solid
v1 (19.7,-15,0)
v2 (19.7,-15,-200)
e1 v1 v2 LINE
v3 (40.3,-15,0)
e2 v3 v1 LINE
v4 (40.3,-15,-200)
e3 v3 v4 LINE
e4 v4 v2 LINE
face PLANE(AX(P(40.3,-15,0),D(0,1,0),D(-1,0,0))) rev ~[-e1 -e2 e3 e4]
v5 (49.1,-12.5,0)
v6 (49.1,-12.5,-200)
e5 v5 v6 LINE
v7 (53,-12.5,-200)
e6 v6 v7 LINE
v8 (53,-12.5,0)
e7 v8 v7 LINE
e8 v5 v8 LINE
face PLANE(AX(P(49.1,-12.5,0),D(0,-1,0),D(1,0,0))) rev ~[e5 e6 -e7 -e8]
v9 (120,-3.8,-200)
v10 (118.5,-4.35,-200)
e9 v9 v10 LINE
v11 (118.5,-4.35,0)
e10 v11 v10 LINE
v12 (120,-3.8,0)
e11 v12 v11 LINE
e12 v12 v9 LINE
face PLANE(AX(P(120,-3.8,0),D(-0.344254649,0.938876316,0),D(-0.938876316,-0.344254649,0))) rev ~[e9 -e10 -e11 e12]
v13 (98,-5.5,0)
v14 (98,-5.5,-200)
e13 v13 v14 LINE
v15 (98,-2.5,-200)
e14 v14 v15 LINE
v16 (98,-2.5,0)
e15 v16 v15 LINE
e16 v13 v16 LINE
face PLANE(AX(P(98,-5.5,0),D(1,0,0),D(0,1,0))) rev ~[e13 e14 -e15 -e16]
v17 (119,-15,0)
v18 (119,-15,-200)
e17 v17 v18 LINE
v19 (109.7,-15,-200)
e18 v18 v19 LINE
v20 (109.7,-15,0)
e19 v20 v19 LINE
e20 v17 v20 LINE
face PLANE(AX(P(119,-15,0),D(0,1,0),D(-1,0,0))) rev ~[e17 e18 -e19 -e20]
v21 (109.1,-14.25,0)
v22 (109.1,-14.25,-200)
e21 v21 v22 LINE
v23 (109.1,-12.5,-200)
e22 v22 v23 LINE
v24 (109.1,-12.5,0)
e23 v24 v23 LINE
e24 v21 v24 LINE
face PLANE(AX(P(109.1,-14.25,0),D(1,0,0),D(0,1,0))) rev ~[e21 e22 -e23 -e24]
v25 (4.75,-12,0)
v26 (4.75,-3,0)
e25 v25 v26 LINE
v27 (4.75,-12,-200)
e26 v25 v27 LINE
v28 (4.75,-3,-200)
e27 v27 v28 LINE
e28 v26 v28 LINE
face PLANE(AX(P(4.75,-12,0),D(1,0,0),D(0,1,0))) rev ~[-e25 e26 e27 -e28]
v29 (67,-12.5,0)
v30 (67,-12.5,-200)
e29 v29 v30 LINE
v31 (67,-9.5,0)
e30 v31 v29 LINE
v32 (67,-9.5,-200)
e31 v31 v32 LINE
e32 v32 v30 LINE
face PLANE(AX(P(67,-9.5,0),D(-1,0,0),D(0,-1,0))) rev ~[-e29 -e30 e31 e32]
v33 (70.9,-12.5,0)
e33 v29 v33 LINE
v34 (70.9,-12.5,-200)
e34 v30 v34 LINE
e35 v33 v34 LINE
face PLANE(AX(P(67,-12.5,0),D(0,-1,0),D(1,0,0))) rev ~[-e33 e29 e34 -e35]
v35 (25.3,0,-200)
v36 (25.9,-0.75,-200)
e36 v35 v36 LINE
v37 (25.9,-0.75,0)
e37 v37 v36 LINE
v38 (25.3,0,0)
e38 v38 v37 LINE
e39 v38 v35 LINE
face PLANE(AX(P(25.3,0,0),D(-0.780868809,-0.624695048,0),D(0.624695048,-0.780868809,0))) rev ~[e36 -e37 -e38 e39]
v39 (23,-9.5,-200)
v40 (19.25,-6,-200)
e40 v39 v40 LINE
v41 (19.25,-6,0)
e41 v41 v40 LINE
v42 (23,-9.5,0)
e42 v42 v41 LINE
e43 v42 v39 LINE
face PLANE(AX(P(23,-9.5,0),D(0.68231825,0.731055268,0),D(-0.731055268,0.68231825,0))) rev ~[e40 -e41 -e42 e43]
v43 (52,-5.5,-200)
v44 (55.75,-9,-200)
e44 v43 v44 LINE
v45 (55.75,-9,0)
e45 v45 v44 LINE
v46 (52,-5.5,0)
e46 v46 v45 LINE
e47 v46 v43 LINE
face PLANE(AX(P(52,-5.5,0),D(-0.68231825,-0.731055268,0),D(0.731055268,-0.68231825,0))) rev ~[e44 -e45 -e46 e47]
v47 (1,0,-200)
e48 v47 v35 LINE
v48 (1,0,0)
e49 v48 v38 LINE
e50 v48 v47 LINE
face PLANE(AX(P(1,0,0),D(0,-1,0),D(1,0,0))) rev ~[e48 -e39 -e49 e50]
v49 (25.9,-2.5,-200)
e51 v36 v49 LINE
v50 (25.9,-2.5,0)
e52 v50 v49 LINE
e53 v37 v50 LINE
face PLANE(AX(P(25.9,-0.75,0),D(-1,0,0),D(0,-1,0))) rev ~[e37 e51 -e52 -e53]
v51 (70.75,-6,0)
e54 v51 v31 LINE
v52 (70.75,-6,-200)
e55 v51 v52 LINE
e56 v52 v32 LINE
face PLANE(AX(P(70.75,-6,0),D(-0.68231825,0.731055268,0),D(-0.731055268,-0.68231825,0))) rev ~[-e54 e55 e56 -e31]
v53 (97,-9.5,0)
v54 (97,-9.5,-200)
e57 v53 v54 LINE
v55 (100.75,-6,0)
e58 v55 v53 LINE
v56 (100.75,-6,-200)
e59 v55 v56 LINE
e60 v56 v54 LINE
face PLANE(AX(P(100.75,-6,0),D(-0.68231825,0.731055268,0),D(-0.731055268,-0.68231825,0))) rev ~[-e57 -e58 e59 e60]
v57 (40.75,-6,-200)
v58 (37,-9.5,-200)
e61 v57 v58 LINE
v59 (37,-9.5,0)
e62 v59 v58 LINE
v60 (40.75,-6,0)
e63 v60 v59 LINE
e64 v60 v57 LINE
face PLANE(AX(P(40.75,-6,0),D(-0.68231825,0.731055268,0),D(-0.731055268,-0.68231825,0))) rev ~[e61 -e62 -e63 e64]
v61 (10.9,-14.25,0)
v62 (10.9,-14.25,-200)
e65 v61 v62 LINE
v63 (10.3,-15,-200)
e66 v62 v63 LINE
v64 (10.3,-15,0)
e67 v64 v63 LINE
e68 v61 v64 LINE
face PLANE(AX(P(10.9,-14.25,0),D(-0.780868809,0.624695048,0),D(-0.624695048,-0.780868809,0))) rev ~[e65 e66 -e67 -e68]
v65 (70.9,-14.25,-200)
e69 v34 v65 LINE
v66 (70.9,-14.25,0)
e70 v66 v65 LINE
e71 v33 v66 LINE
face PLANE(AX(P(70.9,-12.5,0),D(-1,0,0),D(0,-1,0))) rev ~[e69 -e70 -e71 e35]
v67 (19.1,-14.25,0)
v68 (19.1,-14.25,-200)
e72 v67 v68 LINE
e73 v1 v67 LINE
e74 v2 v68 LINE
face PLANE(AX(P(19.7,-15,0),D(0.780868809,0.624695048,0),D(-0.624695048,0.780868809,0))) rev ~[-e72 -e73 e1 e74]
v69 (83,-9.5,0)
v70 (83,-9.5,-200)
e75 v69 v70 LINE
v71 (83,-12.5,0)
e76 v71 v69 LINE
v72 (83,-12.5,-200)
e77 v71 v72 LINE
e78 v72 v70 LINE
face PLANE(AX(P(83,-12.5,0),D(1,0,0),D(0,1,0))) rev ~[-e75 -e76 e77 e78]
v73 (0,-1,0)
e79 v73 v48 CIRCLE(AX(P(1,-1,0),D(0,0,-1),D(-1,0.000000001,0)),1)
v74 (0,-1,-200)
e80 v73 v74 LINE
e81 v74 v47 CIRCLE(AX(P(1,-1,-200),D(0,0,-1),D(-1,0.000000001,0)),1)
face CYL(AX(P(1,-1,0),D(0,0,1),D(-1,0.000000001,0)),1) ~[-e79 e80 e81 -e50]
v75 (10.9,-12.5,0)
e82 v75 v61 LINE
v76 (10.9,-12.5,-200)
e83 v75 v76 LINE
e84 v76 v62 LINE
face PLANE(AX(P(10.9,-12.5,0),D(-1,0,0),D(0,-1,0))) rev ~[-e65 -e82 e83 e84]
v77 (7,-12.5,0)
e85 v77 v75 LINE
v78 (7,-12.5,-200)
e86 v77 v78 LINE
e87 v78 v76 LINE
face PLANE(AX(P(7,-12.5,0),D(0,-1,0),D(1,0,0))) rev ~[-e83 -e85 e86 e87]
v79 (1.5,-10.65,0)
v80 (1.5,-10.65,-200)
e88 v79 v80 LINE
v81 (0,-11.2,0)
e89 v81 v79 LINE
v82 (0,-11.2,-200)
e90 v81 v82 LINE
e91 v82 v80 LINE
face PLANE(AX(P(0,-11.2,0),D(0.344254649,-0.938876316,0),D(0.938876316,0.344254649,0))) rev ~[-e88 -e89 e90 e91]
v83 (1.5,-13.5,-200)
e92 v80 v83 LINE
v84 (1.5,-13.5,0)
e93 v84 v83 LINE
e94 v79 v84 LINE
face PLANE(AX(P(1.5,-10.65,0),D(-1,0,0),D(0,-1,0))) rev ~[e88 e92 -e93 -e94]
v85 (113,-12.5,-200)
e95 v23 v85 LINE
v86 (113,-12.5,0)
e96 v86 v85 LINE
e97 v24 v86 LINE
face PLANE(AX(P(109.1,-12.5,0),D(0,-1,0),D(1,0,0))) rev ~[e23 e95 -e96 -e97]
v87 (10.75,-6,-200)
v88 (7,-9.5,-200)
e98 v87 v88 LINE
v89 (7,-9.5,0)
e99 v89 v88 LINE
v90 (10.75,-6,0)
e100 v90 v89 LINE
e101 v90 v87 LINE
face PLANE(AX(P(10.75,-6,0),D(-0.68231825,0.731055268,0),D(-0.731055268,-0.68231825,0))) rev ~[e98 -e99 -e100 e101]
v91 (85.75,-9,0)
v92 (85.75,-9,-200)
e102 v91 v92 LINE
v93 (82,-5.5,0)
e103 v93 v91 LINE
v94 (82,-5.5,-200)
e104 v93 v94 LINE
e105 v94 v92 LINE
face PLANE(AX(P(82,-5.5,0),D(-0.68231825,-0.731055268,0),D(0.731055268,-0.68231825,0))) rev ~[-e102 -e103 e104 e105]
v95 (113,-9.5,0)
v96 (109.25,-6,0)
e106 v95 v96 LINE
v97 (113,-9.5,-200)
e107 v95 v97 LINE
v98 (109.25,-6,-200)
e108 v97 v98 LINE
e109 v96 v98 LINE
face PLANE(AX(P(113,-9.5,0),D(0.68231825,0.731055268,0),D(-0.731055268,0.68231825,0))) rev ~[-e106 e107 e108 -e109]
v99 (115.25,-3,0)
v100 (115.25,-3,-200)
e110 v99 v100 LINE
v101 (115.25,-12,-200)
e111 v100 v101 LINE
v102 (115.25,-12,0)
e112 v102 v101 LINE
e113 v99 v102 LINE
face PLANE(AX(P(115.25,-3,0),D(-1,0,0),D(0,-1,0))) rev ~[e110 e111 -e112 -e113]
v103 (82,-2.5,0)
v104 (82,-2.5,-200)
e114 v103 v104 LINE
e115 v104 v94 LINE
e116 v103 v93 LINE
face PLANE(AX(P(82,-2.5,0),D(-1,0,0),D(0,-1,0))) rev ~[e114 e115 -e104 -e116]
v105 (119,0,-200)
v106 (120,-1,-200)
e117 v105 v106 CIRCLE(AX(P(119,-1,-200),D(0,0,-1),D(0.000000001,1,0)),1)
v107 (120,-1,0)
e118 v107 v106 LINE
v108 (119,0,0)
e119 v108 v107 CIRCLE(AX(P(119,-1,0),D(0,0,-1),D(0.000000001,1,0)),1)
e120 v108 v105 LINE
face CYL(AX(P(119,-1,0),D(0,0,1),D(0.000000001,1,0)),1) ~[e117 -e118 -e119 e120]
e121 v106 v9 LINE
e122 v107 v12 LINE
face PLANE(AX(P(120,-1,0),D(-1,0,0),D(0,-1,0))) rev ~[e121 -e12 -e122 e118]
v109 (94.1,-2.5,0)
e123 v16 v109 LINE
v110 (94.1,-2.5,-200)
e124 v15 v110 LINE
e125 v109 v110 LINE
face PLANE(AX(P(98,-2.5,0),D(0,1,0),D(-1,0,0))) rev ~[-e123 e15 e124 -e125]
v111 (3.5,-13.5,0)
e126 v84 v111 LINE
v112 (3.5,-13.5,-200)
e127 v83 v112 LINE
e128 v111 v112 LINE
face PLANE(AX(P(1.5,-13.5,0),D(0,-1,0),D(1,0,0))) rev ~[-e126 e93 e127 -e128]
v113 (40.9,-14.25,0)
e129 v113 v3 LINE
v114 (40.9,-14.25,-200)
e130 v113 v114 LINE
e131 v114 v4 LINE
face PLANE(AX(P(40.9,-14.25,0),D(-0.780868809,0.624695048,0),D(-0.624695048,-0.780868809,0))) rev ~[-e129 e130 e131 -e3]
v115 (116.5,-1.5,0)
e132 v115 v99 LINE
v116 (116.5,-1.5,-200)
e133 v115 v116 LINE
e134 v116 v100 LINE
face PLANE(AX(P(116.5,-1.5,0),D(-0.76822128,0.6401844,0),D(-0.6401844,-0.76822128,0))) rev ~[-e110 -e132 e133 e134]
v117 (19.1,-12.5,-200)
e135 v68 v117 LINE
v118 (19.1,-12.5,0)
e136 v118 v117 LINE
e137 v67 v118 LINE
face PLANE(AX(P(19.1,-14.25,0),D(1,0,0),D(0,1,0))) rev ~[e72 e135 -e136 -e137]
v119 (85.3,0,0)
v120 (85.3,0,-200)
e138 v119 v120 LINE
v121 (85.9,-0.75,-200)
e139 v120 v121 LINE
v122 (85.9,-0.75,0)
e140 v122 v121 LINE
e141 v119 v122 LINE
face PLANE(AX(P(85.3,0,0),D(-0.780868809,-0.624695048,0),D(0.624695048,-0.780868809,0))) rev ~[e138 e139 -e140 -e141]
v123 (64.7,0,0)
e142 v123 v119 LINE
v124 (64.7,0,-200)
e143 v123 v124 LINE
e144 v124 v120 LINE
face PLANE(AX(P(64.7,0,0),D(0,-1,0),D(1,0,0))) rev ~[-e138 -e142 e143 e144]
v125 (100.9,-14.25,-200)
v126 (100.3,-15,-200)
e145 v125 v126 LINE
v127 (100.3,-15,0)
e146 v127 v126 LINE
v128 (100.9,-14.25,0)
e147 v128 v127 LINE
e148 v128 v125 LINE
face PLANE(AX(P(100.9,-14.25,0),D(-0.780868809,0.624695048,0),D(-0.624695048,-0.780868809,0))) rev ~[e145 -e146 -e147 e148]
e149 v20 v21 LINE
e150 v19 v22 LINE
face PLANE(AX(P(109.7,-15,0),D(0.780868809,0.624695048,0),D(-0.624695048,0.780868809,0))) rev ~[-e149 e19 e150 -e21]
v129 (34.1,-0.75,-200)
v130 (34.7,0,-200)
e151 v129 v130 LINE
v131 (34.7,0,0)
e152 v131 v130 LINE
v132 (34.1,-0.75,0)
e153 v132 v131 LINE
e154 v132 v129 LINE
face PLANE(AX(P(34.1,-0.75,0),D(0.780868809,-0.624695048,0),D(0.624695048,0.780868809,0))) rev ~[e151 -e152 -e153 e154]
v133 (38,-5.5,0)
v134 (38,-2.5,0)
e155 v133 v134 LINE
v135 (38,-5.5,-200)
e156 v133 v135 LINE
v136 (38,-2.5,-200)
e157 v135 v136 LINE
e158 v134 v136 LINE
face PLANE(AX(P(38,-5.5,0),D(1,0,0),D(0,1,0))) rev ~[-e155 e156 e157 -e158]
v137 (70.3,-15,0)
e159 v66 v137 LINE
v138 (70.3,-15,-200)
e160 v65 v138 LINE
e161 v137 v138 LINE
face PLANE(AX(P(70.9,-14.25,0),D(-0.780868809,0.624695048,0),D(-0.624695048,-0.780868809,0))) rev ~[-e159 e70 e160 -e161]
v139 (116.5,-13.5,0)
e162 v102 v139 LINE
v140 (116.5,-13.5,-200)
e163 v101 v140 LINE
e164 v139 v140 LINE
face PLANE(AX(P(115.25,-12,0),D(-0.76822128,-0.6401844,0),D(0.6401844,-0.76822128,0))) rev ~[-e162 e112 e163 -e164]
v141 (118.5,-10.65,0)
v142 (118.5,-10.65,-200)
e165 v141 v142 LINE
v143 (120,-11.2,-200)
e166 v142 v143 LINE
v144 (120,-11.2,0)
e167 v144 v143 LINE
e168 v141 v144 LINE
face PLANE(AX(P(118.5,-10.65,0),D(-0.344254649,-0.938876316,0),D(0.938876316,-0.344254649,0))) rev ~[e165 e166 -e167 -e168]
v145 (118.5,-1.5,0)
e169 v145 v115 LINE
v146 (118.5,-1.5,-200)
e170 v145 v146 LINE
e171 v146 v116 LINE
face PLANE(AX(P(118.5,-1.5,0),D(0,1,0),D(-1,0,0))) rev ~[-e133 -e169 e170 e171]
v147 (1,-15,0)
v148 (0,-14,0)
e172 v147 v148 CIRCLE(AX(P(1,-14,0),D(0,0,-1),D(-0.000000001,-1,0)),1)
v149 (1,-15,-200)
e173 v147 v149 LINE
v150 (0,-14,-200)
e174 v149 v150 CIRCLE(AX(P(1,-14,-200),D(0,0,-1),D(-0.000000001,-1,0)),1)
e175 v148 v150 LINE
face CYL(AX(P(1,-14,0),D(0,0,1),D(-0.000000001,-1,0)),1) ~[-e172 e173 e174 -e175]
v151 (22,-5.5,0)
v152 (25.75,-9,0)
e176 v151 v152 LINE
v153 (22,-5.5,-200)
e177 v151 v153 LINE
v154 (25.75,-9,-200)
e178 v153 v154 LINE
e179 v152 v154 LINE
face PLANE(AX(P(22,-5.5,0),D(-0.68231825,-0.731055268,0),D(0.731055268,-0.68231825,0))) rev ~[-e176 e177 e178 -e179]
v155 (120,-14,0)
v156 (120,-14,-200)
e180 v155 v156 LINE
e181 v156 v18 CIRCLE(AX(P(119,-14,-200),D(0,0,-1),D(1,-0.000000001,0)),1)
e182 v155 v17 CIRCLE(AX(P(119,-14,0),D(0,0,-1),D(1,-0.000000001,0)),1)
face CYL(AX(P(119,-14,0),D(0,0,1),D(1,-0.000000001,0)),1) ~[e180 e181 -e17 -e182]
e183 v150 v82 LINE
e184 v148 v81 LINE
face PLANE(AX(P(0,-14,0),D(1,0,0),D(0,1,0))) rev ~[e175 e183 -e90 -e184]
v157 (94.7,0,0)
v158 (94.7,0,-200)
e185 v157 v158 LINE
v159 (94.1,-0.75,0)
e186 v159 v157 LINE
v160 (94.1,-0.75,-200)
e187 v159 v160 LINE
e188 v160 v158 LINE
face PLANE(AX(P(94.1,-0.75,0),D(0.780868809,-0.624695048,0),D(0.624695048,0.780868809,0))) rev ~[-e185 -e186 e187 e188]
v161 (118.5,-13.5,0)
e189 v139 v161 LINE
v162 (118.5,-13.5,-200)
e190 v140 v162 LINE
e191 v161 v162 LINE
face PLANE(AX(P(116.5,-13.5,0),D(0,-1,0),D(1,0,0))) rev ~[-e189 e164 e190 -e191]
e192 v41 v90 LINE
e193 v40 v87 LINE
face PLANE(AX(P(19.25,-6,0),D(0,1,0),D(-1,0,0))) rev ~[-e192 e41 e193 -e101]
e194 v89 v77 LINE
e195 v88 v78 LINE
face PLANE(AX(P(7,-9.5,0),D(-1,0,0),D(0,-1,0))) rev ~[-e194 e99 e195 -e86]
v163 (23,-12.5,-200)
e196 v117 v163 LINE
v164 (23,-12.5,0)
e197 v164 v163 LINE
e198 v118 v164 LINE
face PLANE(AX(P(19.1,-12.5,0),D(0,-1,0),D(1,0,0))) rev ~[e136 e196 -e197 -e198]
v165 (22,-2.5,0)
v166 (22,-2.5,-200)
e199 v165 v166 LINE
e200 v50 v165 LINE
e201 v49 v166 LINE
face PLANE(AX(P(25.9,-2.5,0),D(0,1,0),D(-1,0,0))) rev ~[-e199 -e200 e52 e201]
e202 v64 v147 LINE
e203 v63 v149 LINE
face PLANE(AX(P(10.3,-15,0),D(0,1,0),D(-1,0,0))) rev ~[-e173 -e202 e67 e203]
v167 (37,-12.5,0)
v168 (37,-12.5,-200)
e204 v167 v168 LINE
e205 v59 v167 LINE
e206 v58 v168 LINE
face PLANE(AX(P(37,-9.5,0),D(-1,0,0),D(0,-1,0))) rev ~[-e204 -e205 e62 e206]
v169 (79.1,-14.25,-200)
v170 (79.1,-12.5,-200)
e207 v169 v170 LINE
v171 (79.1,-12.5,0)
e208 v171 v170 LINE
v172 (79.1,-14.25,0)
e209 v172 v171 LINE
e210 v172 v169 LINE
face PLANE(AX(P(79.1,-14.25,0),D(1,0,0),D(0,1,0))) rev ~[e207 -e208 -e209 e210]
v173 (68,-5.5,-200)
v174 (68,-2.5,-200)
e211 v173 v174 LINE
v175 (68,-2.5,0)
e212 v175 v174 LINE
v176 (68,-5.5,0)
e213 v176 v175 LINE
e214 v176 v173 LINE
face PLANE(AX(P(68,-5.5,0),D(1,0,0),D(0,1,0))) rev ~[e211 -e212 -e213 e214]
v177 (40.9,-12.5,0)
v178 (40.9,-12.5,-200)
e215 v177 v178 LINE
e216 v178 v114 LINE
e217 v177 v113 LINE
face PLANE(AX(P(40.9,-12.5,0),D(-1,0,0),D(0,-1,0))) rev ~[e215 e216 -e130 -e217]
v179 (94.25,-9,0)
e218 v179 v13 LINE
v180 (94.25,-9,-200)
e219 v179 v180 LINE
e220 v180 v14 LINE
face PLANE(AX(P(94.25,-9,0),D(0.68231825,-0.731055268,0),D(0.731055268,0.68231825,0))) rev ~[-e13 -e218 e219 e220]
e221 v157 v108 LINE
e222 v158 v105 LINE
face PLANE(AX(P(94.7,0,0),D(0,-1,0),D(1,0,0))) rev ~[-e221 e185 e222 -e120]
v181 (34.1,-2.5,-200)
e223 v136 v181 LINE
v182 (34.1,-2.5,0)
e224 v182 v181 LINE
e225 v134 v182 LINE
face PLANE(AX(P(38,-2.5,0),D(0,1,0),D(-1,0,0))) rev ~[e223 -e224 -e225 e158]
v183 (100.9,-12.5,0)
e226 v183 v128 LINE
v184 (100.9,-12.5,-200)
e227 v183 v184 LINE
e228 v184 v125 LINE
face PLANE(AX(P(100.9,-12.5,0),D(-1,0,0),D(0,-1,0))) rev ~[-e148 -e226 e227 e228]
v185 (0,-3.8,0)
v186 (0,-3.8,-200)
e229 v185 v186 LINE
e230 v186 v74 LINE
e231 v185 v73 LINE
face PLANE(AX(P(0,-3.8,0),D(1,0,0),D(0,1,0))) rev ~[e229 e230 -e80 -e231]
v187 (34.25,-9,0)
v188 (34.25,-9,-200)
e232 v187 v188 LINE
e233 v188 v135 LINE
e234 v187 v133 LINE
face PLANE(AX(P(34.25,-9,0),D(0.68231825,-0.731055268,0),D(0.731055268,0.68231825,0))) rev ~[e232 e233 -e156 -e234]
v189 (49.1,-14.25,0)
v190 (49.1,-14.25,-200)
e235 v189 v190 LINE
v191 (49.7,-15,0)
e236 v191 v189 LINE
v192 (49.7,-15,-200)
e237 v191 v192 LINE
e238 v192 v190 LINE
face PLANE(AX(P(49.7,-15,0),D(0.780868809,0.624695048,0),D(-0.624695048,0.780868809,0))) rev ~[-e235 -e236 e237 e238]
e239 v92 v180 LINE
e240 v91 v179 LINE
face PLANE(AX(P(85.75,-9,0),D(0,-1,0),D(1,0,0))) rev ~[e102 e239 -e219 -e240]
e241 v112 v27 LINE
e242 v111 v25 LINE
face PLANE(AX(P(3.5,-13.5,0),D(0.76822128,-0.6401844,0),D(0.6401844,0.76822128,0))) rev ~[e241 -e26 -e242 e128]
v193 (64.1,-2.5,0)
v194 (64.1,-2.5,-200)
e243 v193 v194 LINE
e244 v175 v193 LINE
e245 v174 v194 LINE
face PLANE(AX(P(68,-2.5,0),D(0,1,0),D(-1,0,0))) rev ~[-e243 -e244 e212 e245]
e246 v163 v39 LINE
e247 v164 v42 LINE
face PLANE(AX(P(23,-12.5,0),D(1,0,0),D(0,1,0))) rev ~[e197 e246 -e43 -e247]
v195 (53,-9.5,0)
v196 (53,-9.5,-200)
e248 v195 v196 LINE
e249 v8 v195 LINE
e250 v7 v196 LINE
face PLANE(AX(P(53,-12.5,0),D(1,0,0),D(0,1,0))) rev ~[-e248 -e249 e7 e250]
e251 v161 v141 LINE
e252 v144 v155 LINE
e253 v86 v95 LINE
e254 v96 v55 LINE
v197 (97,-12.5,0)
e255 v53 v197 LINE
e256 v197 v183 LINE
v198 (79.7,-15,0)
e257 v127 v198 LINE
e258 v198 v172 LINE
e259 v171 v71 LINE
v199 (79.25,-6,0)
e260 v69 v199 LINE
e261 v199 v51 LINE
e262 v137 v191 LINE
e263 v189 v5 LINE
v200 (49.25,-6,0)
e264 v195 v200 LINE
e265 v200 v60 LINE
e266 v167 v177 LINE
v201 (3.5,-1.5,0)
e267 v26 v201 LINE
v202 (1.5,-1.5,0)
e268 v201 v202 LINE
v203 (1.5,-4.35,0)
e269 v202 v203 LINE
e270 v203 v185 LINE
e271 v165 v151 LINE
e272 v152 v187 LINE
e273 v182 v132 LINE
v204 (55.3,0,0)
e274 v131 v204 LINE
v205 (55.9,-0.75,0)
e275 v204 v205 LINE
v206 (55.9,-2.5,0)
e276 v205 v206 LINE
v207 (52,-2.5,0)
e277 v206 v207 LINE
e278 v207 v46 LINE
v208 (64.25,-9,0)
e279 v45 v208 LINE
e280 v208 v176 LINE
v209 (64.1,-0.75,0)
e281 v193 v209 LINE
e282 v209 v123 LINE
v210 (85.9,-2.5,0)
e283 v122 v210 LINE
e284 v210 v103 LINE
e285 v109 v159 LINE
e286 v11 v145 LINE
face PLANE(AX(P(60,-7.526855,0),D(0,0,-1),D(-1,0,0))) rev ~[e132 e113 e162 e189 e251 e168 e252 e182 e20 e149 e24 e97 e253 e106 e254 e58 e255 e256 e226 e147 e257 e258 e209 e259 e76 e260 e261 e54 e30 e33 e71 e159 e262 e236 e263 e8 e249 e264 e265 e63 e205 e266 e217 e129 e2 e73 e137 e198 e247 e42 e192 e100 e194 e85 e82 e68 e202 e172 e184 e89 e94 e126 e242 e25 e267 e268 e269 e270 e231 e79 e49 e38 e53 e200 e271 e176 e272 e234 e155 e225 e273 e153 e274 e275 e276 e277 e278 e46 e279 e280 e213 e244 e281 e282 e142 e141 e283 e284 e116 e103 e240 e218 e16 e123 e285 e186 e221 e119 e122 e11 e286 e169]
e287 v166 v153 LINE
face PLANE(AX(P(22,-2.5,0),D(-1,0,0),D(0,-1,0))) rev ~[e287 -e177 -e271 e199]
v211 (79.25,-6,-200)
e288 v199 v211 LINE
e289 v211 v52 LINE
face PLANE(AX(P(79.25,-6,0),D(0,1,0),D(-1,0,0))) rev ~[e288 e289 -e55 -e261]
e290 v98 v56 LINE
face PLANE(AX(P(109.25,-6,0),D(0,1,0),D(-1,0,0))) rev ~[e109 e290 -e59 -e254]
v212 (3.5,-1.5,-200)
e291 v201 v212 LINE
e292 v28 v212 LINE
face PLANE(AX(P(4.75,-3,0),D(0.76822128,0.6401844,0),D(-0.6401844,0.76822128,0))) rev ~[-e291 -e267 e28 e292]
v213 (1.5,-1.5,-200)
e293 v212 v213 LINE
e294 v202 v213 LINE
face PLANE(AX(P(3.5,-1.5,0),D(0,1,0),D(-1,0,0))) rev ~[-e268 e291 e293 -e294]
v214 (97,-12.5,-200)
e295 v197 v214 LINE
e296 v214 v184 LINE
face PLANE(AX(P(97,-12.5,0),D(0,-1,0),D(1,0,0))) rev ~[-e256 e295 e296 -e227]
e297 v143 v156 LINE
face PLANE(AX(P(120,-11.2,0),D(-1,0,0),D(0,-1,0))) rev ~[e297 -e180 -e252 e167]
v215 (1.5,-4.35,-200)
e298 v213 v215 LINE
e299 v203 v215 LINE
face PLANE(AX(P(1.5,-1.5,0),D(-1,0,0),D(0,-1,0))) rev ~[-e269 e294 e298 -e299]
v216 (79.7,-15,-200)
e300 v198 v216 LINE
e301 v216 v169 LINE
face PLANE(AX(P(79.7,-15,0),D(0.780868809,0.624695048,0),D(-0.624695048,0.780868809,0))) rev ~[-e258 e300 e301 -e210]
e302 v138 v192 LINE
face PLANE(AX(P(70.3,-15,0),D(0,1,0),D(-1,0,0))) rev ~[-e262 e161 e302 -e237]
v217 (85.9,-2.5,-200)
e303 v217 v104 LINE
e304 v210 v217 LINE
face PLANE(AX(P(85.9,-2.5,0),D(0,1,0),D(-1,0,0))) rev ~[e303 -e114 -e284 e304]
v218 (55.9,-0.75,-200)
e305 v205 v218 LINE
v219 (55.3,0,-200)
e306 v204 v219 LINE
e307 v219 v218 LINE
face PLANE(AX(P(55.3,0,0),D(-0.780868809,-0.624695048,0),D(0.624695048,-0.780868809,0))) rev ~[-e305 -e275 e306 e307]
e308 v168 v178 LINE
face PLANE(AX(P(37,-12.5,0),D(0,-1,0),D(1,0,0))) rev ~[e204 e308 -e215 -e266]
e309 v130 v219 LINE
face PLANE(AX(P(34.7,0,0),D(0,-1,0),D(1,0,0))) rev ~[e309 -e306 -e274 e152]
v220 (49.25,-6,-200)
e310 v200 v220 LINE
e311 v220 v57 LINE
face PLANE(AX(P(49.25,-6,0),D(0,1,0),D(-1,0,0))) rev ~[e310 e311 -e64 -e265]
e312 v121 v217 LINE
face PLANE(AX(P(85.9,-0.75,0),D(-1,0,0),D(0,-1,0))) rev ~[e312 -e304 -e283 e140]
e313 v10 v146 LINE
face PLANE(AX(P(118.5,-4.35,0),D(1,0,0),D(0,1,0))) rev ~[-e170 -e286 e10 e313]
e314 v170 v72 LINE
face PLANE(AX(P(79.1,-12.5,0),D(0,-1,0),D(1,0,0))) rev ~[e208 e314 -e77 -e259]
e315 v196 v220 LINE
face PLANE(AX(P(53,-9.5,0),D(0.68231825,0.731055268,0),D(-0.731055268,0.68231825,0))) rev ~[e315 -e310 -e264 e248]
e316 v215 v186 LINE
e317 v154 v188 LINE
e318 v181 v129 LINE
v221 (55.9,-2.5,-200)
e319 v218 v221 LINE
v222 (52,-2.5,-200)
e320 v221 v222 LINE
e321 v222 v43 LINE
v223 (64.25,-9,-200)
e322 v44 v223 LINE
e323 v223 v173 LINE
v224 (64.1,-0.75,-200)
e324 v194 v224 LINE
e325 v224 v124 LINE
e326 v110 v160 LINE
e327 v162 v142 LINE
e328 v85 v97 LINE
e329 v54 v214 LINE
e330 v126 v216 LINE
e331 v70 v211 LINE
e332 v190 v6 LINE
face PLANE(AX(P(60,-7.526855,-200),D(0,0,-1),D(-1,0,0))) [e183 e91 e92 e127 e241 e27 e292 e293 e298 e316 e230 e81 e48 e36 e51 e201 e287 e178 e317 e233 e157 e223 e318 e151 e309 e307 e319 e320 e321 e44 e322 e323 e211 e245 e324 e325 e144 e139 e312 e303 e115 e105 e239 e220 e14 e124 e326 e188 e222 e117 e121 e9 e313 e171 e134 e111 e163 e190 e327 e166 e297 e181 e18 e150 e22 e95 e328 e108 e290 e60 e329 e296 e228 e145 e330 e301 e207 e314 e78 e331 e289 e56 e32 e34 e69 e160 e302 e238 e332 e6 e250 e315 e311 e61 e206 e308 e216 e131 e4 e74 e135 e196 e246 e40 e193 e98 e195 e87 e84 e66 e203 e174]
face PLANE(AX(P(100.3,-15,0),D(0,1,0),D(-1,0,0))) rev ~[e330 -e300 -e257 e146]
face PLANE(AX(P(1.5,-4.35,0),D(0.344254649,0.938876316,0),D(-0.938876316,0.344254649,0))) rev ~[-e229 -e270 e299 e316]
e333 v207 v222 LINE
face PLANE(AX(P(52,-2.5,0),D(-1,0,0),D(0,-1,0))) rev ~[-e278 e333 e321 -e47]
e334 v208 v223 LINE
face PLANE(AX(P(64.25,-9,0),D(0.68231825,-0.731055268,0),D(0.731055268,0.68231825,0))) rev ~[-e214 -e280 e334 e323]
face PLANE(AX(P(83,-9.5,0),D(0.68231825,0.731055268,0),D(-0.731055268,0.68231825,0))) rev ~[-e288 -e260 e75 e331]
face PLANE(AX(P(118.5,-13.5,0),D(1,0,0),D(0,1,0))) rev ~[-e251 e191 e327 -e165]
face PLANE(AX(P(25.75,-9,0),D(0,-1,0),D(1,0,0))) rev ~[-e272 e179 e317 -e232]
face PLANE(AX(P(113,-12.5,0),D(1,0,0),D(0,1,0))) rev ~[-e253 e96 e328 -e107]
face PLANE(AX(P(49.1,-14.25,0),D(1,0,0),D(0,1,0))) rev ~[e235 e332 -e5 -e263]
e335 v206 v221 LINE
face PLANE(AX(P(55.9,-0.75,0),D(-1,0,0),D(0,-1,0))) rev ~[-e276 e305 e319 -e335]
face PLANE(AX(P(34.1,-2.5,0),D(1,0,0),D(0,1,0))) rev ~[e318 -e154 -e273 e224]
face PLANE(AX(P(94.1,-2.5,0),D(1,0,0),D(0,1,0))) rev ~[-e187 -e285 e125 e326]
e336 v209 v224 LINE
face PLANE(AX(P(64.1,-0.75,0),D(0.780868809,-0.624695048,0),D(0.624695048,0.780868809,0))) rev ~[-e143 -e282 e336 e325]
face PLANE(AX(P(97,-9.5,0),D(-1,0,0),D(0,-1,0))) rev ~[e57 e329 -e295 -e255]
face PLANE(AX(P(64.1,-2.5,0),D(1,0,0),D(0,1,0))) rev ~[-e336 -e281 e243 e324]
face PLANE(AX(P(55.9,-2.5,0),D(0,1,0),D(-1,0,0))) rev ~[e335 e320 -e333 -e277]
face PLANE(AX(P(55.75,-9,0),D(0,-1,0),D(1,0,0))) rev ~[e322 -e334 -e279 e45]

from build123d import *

# Parameters (mm, degrees)
BOSS_EXTRUDE1_DEPTH = 200


with BuildPart() as part:
    # Sketch1 → Boss-Extrude1 (new body)
    with BuildSketch(Plane.XY):
        with BuildLine():
            Line((0, -3.8), (0, -1))
            ThreePointArc((0, -1), (0.292893219, -0.292893219), (1, 0))
            Line((1, 0), (15, 0))
            Line((15, 0), (23.02057349, 0))
            Line((23.02057349, 0), (25.3, 0))
            Line((25.3, 0), (25.9, -0.75))
            Line((25.9, -0.75), (25.9, -2.5))
            Line((25.9, -2.5), (22, -2.5))
            Line((22, -2.5), (22, -5.5))
            Line((22, -5.5), (25.75, -9))
            Line((25.75, -9), (30, -9))
            Line((30, -9), (34.25, -9))
            Line((34.25, -9), (38, -5.5))
            Line((38, -5.5), (38, -2.5))
            Line((38, -2.5), (34.1, -2.5))
            Line((34.1, -2.5), (34.1, -0.75))
            Line((34.1, -0.75), (34.7, 0))
            Line((34.7, 0), (55.3, 0))
            Line((55.3, 0), (55.9, -0.75))
            Line((55.9, -0.75), (55.9, -2.5))
            Line((55.9, -2.5), (52, -2.5))
            Line((52, -2.5), (52, -5.5))
            Line((52, -5.5), (55.75, -9))
            Line((55.75, -9), (60, -9))
            Line((60, -9), (64.25, -9))
            Line((64.25, -9), (68, -5.5))
            Line((68, -5.5), (68, -2.5))
            Line((68, -2.5), (64.1, -2.5))
            Line((64.1, -2.5), (64.1, -0.75))
            Line((64.1, -0.75), (64.7, 0))
            Line((64.7, 0), (85.3, 0))
            Line((85.3, 0), (85.9, -0.75))
            Line((85.9, -0.75), (85.9, -2.5))
            Line((85.9, -2.5), (82, -2.5))
            Line((82, -2.5), (82, -5.5))
            Line((82, -5.5), (85.75, -9))
            Line((85.75, -9), (90, -9))
            Line((90, -9), (94.25, -9))
            Line((94.25, -9), (98, -5.5))
            Line((98, -5.5), (98, -2.5))
            Line((98, -2.5), (94.1, -2.5))
            Line((94.1, -2.5), (94.1, -0.75))
            Line((94.1, -0.75), (94.7, 0))
            Line((94.7, 0), (95.680089514, 0))
            Line((95.680089514, 0), (119, 0))
            ThreePointArc((119, 0), (119.707106781, -0.292893219), (120, -1))
            Line((120, -1), (120, -3.8))
            Line((120, -3.8), (118.5, -4.35))
            Line((118.5, -4.35), (118.5, -1.5))
            Line((118.5, -1.5), (116.5, -1.5))
            Line((116.5, -1.5), (115.25, -3))
            Line((115.25, -3), (115.25, -12))
            Line((115.25, -12), (116.5, -13.5))
            Line((116.5, -13.5), (118.5, -13.5))
            Line((118.5, -13.5), (118.5, -10.65))
            Line((118.5, -10.65), (120, -11.2))
            Line((120, -11.2), (120, -14))
            ThreePointArc((120, -14), (119.707106781, -14.707106781), (119, -15))
            Line((119, -15), (109.7, -15))
            Line((109.7, -15), (109.1, -14.25))
            Line((109.1, -14.25), (109.1, -12.5))
            Line((109.1, -12.5), (113, -12.5))
            Line((113, -12.5), (113, -9.5))
            Line((113, -9.5), (109.25, -6))
            Line((109.25, -6), (105, -6))
            Line((105, -6), (100.75, -6))
            Line((100.75, -6), (97, -9.5))
            Line((97, -9.5), (97, -12.5))
            Line((97, -12.5), (100.9, -12.5))
            Line((100.9, -12.5), (100.9, -14.25))
            Line((100.9, -14.25), (100.3, -15))
            Line((100.3, -15), (79.7, -15))
            Line((79.7, -15), (79.1, -14.25))
            Line((79.1, -14.25), (79.1, -12.5))
            Line((79.1, -12.5), (83, -12.5))
            Line((83, -12.5), (83, -9.5))
            Line((83, -9.5), (79.25, -6))
            Line((79.25, -6), (75, -6))
            Line((75, -6), (70.75, -6))
            Line((70.75, -6), (67, -9.5))
            Line((67, -9.5), (67, -12.5))
            Line((67, -12.5), (70.9, -12.5))
            Line((70.9, -12.5), (70.9, -14.25))
            Line((70.9, -14.25), (70.3, -15))
            Line((70.3, -15), (49.7, -15))
            Line((49.7, -15), (49.1, -14.25))
            Line((49.1, -14.25), (49.1, -12.5))
            Line((49.1, -12.5), (53, -12.5))
            Line((53, -12.5), (53, -9.5))
            Line((53, -9.5), (49.25, -6))
            Line((49.25, -6), (45, -6))
            Line((45, -6), (40.75, -6))
            Line((40.75, -6), (37, -9.5))
            Line((37, -9.5), (37, -12.5))
            Line((37, -12.5), (40.9, -12.5))
            Line((40.9, -12.5), (40.9, -14.25))
            Line((40.9, -14.25), (40.3, -15))
            Line((40.3, -15), (19.7, -15))
            Line((19.7, -15), (19.1, -14.25))
            Line((19.1, -14.25), (19.1, -12.5))
            Line((19.1, -12.5), (23, -12.5))
            Line((23, -12.5), (23, -9.5))
            Line((23, -9.5), (19.25, -6))
            Line((19.25, -6), (15, -6))
            Line((15, -6), (10.75, -6))
            Line((10.75, -6), (7, -9.5))
            Line((7, -9.5), (7, -12.5))
            Line((7, -12.5), (10.9, -12.5))
            Line((10.9, -12.5), (10.9, -14.25))
            Line((10.9, -14.25), (10.3, -15))
            Line((10.3, -15), (1, -15))
            ThreePointArc((1, -15), (0.292893219, -14.707106781), (0, -14))
            Line((0, -14), (0, -11.2))
            Line((0, -11.2), (1.5, -10.65))
            Line((1.5, -10.65), (1.5, -13.5))
            Line((1.5, -13.5), (3.5, -13.5))
            Line((3.5, -13.5), (4.75, -12))
            Line((4.75, -12), (4.75, -3))
            Line((4.75, -3), (3.5, -1.5))
            Line((3.5, -1.5), (1.5, -1.5))
            Line((1.5, -1.5), (1.5, -4.35))
            Line((1.5, -4.35), (0, -3.8))
        make_face()
    extrude(amount=-BOSS_EXTRUDE1_DEPTH)


solid = part.part
